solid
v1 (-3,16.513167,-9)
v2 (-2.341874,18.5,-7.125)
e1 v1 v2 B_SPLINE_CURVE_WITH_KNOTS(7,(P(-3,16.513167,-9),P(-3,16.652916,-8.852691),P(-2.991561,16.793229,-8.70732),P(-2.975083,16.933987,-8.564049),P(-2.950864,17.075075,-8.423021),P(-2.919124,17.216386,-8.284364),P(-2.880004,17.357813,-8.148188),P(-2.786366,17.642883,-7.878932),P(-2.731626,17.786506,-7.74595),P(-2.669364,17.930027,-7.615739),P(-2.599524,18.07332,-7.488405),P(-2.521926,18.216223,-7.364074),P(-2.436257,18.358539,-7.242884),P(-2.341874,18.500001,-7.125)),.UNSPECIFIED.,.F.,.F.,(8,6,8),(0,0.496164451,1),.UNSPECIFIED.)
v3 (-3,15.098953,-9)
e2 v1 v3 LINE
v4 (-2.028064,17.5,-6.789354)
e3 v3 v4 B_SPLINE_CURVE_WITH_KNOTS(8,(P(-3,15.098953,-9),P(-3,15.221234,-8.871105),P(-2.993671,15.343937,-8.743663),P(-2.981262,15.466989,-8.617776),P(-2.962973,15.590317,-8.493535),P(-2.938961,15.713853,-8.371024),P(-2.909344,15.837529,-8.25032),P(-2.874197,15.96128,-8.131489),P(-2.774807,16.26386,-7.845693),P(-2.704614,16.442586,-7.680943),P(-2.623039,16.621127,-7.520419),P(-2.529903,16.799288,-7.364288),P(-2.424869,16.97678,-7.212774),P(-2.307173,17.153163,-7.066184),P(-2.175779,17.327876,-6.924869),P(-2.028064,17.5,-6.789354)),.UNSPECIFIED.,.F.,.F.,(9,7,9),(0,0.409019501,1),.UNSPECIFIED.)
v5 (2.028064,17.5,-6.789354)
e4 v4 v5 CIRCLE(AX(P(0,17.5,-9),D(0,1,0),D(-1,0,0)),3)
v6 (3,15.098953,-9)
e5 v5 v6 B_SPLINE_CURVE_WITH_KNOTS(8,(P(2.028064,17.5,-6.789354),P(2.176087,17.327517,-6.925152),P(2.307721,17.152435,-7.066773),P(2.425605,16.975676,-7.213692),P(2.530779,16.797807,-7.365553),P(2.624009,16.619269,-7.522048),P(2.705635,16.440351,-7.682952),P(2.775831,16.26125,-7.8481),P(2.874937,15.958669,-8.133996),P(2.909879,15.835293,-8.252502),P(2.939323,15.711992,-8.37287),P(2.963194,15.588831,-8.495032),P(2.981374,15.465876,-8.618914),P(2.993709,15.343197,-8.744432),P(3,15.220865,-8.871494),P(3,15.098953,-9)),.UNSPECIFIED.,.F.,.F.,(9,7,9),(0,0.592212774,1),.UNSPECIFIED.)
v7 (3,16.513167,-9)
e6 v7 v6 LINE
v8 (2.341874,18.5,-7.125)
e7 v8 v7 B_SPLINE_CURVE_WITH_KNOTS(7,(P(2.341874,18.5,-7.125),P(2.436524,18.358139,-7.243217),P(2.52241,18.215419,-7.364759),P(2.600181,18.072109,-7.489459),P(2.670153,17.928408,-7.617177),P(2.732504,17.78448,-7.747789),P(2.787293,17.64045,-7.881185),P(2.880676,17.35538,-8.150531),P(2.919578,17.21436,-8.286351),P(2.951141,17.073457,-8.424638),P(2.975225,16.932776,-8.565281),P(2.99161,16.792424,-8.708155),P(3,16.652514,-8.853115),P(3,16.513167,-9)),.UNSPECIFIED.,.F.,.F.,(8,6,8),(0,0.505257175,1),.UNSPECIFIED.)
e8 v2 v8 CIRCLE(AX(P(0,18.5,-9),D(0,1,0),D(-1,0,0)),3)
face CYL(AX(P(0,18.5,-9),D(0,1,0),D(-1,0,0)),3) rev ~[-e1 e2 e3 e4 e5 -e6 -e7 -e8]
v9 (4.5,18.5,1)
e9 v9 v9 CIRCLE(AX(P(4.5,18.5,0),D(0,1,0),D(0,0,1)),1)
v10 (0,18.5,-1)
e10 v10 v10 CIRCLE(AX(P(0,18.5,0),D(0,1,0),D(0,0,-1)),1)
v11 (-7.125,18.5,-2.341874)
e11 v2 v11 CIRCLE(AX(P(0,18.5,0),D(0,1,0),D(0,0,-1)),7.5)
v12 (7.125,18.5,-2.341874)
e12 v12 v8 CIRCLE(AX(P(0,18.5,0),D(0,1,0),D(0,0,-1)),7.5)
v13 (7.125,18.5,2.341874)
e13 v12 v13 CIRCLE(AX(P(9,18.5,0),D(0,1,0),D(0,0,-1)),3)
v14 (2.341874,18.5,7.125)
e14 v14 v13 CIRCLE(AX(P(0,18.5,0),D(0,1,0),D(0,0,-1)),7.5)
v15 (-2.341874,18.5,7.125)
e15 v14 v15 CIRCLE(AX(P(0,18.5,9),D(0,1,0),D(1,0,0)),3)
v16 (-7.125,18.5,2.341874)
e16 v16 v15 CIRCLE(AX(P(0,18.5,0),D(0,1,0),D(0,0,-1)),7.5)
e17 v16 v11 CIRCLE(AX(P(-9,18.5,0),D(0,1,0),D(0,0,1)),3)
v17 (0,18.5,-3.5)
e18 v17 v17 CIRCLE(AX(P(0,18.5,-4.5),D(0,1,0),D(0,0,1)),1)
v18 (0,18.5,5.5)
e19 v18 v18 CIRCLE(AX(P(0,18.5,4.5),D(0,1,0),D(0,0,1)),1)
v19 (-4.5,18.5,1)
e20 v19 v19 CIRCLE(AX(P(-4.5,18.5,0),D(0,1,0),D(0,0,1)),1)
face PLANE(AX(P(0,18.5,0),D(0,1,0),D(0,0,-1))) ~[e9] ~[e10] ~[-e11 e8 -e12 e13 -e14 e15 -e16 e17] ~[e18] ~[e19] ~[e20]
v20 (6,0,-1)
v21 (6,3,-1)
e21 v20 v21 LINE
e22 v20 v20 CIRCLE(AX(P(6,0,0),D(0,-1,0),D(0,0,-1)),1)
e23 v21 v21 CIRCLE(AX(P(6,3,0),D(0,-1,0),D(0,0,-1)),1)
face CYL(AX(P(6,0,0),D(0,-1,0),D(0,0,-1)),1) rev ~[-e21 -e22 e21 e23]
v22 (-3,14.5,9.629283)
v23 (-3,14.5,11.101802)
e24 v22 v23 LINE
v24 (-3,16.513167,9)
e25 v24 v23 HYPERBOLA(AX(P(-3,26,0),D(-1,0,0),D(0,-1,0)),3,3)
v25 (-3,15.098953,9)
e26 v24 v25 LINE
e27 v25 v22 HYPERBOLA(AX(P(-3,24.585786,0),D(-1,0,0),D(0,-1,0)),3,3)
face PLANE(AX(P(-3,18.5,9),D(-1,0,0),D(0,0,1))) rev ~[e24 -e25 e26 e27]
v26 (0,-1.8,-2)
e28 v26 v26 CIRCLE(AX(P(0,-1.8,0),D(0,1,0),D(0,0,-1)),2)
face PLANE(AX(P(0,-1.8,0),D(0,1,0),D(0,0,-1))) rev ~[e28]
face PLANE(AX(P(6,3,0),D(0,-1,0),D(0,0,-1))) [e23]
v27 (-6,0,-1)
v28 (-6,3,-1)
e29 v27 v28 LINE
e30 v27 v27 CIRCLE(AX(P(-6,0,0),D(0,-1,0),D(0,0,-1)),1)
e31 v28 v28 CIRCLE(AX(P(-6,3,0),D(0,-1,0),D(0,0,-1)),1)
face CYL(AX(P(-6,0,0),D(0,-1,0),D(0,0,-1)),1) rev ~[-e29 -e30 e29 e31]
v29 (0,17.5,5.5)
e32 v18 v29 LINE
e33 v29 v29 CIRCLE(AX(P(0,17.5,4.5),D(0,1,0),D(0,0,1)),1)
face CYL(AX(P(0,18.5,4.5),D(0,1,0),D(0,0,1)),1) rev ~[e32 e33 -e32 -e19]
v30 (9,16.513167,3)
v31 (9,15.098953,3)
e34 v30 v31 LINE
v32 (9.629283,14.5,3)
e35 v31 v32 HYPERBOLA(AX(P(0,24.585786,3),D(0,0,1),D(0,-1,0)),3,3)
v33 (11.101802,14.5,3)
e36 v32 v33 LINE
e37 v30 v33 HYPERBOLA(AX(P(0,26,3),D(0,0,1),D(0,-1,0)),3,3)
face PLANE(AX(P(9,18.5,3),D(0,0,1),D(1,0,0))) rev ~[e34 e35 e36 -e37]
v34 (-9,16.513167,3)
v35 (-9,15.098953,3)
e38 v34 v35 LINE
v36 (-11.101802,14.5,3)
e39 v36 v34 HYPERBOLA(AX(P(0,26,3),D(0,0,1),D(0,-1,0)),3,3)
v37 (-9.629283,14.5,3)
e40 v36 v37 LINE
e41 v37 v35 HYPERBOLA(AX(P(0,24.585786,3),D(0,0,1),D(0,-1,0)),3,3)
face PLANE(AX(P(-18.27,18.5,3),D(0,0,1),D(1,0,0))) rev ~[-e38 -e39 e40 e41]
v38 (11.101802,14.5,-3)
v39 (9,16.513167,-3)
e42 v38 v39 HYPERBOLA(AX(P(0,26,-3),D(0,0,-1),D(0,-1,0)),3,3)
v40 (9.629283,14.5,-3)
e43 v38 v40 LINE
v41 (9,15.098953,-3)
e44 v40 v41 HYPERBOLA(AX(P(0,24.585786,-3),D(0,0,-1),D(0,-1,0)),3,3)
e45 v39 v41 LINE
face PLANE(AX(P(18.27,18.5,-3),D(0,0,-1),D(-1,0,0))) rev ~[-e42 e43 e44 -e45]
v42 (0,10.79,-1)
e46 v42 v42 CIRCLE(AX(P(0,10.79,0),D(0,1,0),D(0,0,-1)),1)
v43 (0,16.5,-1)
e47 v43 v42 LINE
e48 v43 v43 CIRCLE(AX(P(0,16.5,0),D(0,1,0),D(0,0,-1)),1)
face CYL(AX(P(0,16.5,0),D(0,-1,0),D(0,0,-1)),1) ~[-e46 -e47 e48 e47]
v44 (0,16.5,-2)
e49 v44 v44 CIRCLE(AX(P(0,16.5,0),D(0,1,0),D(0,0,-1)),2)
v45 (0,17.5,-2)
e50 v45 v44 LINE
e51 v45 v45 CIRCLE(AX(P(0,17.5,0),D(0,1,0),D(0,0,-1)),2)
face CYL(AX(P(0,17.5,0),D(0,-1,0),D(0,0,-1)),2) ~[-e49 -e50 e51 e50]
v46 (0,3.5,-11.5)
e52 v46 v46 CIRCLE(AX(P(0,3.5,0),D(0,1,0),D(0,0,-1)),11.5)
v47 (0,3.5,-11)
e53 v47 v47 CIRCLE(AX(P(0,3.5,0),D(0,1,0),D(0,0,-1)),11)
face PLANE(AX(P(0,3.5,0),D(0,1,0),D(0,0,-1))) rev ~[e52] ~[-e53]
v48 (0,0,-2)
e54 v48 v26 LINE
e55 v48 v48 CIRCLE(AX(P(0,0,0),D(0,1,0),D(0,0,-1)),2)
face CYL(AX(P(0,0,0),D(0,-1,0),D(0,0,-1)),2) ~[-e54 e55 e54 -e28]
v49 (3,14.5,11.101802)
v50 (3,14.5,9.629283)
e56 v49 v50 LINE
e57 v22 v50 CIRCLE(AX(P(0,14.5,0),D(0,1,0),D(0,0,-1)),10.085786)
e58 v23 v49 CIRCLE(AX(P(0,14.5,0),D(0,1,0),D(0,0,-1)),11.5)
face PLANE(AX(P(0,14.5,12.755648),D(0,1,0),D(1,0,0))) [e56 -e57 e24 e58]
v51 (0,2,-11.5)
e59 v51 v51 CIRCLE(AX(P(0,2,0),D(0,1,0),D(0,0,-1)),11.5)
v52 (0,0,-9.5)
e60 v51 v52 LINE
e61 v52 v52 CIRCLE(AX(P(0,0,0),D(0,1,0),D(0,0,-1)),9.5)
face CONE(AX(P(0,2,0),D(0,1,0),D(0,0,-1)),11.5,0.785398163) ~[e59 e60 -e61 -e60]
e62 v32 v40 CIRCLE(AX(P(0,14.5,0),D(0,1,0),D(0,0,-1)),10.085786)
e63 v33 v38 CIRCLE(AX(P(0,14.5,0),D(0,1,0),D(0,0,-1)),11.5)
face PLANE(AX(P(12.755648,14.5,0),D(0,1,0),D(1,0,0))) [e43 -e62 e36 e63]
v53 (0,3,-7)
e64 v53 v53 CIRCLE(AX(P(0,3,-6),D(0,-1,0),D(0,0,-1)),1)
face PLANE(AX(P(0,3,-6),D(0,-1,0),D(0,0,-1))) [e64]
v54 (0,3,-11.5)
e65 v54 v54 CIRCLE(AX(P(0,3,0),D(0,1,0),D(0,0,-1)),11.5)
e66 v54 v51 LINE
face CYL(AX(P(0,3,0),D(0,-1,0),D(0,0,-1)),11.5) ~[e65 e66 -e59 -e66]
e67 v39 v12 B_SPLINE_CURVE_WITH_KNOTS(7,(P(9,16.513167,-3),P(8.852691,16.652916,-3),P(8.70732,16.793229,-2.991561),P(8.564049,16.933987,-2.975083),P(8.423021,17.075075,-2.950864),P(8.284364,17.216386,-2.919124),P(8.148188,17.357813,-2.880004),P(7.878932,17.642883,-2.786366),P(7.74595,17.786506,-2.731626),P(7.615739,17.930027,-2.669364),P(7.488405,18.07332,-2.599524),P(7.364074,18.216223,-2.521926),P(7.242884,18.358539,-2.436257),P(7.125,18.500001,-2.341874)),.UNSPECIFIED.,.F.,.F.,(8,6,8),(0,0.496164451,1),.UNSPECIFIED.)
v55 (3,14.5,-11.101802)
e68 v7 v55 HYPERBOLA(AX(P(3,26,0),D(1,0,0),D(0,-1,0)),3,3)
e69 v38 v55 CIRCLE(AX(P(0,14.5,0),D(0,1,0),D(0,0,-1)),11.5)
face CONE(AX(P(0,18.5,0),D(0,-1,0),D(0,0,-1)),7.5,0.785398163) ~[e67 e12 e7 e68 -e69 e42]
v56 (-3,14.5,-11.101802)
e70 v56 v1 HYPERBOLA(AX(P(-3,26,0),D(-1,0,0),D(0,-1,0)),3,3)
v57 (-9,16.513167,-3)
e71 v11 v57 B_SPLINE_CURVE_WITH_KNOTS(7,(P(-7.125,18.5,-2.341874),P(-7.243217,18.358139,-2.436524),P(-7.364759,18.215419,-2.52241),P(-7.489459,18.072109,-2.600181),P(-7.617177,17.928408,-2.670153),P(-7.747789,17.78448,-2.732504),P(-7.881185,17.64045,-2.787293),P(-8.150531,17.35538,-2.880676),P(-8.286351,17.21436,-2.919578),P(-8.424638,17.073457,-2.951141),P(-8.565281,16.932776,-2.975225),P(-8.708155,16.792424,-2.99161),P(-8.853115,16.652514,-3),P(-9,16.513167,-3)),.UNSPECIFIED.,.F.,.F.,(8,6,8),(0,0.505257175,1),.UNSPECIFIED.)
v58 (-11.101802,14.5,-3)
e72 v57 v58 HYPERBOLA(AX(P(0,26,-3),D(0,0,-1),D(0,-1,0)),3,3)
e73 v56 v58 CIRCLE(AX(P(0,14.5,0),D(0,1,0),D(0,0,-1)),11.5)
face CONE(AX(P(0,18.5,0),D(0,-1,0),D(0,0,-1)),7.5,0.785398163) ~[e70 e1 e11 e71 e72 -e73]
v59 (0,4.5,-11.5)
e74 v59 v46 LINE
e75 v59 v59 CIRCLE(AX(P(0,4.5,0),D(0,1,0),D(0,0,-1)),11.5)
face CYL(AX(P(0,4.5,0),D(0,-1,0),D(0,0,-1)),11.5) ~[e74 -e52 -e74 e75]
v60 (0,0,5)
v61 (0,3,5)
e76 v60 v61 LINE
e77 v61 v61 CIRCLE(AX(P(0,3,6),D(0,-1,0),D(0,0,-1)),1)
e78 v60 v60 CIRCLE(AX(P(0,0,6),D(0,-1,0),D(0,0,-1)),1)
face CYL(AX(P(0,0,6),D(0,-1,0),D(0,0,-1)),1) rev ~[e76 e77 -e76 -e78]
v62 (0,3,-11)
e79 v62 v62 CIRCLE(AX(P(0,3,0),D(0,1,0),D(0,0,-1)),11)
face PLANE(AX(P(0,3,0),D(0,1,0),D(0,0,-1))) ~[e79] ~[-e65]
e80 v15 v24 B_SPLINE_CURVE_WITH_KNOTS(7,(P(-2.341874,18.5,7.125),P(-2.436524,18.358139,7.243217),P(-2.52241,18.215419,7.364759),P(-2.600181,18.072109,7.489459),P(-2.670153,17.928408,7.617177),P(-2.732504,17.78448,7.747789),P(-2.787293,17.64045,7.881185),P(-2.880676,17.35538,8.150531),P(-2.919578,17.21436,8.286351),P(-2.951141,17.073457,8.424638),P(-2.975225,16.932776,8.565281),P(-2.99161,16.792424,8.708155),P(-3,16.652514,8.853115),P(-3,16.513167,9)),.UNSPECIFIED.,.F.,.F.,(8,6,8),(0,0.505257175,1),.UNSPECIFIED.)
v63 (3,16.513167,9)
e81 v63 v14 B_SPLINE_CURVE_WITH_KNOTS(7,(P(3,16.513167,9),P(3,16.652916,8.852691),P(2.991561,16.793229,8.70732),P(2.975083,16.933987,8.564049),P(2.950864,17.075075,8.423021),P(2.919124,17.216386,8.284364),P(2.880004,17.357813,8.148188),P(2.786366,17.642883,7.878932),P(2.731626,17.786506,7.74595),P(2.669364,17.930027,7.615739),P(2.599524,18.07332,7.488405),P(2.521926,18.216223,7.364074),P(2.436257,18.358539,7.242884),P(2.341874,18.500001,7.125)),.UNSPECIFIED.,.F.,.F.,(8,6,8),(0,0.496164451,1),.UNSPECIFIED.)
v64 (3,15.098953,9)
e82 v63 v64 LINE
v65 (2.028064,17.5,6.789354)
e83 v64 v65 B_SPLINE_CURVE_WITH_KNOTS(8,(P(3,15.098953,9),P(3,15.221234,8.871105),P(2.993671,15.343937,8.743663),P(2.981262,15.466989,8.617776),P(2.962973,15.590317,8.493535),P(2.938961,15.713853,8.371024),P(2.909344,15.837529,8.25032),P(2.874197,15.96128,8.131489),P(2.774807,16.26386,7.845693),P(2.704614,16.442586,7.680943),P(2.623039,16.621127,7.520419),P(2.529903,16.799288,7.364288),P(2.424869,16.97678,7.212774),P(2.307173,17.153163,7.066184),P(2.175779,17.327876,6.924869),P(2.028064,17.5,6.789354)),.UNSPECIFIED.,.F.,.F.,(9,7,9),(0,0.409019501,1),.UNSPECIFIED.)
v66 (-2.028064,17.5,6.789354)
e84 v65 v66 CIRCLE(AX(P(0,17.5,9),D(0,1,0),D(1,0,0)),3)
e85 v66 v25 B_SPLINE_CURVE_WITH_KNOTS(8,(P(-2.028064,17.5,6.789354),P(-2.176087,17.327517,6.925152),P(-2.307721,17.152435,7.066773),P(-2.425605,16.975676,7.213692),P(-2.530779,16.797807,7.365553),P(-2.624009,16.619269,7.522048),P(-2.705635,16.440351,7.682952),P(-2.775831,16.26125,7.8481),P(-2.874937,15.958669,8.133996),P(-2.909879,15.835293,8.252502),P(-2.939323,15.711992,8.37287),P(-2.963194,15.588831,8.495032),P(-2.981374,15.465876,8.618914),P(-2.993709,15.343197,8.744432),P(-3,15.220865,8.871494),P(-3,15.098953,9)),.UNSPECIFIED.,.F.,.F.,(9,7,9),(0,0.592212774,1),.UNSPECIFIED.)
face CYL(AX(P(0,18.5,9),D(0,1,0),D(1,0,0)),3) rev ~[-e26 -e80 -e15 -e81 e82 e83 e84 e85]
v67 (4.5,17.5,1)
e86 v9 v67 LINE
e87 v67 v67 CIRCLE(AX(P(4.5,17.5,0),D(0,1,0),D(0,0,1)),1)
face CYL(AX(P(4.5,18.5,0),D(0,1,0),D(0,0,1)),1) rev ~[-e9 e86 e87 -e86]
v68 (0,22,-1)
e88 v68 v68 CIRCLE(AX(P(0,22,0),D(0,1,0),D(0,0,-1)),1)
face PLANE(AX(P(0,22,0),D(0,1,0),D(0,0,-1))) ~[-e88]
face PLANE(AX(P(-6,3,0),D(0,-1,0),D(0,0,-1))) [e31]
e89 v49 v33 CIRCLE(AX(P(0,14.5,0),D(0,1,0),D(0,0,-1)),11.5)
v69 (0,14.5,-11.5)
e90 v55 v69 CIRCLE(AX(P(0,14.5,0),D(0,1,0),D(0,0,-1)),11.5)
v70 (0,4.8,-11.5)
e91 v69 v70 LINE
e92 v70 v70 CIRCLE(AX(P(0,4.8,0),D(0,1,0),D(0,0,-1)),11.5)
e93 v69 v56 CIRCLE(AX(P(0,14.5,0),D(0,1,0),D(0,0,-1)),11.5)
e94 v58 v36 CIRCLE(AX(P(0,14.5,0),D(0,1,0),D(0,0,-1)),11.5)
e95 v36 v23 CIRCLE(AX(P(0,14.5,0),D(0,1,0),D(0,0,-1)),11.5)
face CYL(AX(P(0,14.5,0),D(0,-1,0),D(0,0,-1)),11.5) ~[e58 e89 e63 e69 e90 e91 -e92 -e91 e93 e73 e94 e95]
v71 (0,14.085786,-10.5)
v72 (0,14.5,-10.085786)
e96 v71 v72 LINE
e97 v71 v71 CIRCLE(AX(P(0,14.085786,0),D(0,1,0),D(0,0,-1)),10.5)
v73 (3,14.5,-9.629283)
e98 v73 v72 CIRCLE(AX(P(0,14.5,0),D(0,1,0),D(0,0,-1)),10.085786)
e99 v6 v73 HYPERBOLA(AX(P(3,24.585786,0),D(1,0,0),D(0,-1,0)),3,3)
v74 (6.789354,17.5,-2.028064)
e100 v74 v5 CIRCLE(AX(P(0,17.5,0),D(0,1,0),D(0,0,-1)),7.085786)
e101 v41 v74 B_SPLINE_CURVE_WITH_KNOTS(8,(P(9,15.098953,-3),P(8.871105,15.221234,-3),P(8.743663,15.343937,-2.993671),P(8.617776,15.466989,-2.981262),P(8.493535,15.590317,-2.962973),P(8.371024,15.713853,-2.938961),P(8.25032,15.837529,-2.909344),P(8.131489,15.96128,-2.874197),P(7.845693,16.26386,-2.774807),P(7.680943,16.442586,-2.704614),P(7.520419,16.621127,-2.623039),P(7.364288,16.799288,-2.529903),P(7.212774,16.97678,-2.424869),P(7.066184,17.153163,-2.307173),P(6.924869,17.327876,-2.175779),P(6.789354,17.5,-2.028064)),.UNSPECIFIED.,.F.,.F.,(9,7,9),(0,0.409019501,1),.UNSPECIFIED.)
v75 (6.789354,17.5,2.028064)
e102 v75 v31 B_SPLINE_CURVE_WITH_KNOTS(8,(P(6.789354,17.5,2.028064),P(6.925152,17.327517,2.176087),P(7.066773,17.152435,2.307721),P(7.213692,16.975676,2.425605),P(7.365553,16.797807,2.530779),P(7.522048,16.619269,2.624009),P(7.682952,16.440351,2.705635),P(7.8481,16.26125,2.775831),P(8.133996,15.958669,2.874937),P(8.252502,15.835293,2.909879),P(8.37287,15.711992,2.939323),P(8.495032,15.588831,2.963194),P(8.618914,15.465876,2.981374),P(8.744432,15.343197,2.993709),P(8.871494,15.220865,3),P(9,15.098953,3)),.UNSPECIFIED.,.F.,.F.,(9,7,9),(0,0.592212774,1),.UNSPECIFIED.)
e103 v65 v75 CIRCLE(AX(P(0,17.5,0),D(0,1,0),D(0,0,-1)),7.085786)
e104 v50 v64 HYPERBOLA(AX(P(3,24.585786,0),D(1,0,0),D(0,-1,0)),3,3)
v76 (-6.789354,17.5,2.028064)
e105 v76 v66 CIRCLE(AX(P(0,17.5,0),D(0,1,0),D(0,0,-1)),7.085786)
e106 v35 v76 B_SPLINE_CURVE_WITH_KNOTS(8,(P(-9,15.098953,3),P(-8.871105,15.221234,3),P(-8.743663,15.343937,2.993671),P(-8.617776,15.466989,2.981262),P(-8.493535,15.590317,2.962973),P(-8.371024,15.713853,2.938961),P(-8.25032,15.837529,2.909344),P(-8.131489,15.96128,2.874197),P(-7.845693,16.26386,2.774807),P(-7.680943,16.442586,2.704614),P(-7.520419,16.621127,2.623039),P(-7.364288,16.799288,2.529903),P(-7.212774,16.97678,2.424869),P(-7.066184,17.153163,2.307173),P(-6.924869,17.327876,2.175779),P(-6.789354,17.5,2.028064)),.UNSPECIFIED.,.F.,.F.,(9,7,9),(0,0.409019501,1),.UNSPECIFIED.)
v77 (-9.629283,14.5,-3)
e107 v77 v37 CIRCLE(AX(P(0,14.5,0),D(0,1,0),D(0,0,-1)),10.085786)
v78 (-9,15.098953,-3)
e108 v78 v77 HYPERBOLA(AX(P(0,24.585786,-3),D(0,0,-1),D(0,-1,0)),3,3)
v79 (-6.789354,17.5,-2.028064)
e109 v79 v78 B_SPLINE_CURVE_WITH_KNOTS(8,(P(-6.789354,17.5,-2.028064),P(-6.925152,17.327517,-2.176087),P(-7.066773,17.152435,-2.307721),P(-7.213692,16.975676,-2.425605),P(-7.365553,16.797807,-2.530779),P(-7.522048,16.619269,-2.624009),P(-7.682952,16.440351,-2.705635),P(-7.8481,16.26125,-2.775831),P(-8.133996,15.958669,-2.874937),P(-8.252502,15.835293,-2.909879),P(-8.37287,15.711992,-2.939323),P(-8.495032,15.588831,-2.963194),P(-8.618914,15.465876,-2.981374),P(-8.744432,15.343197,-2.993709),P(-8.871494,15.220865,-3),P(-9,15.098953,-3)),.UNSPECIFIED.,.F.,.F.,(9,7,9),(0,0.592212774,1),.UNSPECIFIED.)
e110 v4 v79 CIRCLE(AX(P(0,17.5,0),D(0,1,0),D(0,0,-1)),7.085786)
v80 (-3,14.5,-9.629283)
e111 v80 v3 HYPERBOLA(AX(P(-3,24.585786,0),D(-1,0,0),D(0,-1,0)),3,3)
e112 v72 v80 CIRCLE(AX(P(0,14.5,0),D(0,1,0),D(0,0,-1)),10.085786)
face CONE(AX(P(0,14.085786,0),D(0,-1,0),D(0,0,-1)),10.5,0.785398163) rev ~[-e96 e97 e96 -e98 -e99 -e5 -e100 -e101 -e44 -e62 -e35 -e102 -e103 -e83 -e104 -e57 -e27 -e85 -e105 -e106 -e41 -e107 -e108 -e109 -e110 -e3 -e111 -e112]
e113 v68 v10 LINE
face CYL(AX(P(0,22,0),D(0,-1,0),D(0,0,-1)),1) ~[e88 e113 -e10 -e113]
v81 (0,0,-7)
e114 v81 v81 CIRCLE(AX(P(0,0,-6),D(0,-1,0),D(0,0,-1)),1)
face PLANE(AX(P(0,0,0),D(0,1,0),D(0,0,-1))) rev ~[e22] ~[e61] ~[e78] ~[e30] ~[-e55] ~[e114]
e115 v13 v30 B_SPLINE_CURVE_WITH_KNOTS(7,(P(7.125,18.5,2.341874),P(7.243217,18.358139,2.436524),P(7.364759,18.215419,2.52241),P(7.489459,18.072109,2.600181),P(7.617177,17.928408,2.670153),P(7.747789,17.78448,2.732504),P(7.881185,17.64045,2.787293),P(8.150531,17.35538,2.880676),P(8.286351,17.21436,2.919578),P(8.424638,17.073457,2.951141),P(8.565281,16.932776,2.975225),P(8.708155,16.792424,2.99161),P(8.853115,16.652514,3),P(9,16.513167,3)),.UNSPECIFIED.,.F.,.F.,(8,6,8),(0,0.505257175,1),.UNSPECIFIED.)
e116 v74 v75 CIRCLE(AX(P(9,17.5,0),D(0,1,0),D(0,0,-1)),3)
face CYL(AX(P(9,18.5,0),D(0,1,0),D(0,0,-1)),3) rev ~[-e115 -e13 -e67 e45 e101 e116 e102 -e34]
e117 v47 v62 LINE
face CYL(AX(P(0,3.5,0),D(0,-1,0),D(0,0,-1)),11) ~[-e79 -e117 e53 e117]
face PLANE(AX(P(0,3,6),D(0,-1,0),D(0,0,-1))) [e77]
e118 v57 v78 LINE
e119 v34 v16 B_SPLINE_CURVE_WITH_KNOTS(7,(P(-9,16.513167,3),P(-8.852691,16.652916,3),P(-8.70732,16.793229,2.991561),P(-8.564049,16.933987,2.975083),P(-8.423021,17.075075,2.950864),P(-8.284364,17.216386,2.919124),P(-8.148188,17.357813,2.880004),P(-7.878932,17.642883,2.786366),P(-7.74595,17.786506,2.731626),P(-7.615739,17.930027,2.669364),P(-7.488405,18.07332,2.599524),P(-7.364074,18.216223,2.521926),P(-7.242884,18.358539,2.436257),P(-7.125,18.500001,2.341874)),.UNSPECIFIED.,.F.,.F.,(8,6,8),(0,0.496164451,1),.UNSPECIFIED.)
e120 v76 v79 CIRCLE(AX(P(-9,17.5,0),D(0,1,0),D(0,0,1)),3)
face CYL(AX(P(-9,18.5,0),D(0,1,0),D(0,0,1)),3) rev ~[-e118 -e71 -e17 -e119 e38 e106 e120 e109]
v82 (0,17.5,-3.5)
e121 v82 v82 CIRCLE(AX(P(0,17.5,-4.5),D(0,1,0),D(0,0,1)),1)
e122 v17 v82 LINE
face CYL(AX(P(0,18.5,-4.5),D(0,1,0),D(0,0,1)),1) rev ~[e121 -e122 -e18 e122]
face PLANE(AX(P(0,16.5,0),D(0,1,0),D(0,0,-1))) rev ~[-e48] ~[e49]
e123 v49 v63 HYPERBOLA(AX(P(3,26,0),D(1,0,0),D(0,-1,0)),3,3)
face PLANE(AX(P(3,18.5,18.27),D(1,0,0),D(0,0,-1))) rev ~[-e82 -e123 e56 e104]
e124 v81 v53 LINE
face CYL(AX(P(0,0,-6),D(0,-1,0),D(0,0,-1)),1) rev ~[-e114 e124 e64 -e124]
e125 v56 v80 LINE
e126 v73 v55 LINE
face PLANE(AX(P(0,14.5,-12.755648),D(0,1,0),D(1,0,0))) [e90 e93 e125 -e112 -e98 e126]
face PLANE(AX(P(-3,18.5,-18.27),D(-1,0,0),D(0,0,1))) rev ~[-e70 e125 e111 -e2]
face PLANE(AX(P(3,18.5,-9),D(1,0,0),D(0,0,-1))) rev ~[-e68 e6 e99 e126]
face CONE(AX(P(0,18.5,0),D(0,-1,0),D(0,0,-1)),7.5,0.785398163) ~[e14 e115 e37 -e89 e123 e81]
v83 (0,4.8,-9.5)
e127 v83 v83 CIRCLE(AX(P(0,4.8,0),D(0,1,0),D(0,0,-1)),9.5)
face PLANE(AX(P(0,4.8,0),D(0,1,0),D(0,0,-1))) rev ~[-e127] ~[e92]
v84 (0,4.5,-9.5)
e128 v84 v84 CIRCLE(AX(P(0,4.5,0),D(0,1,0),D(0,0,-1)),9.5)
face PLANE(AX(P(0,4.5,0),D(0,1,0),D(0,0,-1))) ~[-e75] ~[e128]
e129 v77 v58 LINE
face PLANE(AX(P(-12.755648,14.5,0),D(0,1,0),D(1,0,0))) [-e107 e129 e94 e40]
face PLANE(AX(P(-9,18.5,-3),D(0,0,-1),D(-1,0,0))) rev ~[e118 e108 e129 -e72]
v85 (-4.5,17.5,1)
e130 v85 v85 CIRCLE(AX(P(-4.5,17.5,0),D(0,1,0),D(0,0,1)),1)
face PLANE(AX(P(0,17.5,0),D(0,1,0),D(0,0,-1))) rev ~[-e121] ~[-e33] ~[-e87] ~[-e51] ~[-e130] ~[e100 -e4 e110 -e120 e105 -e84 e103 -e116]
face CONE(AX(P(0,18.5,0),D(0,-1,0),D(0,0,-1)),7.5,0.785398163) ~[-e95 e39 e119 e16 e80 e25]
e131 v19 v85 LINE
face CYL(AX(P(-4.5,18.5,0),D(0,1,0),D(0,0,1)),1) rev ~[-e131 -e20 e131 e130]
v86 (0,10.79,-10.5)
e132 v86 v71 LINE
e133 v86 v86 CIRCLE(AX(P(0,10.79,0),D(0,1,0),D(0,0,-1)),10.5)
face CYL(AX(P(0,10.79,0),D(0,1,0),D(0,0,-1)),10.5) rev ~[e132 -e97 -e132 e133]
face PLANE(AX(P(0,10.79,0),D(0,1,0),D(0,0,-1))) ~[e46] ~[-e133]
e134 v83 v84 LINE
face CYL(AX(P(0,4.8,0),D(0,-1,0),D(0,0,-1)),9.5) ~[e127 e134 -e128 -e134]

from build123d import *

# Parameters (mm, degrees)
SKETCH3_R          = 1
CUT_EXTRUDE1_DEPTH = 4
SKETCH5_R          = 1
CUT_EXTRUDE2_DEPTH = 3


with BuildPart() as part:
    # Sketch2 → Revolve2 (revolve)
    with BuildSketch(Plane.XY, mode=Mode.PRIVATE) as revolve2_sk:
        Polygon((0, 0), (0, 22), (1, 22), (1, 18.5), (7.5, 18.5), (11.5, 14.5), (11.5, 4.8), (9.5, 4.8), (9.5, 4.5), (11.5, 4.5), (11.5, 3.5), (11, 3.5), (11, 3), (11.5, 3), (11.5, 2), (9.5, 0), (2, 0), (2, -1.8), (0, -1.8), align=None)
        Polygon((1, 16.5), (1, 10.79), (10.5, 10.79), (10.5, 14.085786438), (7.085786438, 17.5), (2, 17.5), (2, 16.5), align=None, mode=Mode.SUBTRACT)
    revolve(revolve2_sk.sketch.rotate(Axis((0, 0, 0), (0, 1, 0)), 90), axis=Axis((0, 0, 0), (0, 1, 0)))

    # Sketch3 → Cut-Extrude1 (cut)
    with BuildSketch(Plane(origin=(0, 18.5, 0), x_dir=(1, 0, 0), z_dir=(0, 1, 0))):
        with Locations(Location((0, 4.5, 0), (0, 0, 270))):
            Circle(SKETCH3_R)
        with Locations(Location((4.5, 0, 0), (0, 0, 270))):
            Circle(SKETCH3_R)
        with Locations(Location((0, -4.5, 0), (0, 0, 270))):
            Circle(SKETCH3_R)
        with Locations(Location((-4.5, 0, 0), (0, 0, 270))):
            Circle(SKETCH3_R)
        with BuildLine():
            Line((3, 9), (3, 18.27))
            Line((3, 18.27), (-3, 18.27))
            Line((-3, 18.27), (-3, 9))
            ThreePointArc((-3, 9), (0, 6), (3, 9))
        make_face()
        with BuildLine():
            Line((9, -3), (18.27, -3))
            Line((18.27, -3), (18.27, 3))
            Line((18.27, 3), (9, 3))
            ThreePointArc((9, 3), (6, 0), (9, -3))
        make_face()
        with BuildLine():
            Line((-3, -9), (-3, -18.27))
            Line((-3, -18.27), (3, -18.27))
            Line((3, -18.27), (3, -9))
            ThreePointArc((3, -9), (0, -6), (-3, -9))
        make_face()
        with BuildLine():
            Line((-9, 3), (-18.27, 3))
            Line((-18.27, 3), (-18.27, -3))
            Line((-18.27, -3), (-9, -3))
            ThreePointArc((-9, -3), (-6, 0), (-9, 3))
        make_face()
    extrude(amount=-CUT_EXTRUDE1_DEPTH, mode=Mode.SUBTRACT)

    # Sketch5 → Cut-Extrude2 (cut)
    with BuildSketch(Plane.XZ):
        with Locations(Location((0, 6, 0), (0, 0, 270))):
            Circle(SKETCH5_R)
        with Locations(Location((6, 0, 0), (0, 0, 270))):
            Circle(SKETCH5_R)
        with Locations(Location((0, -6, 0), (0, 0, 270))):
            Circle(SKETCH5_R)
        with Locations(Location((-6, 0, 0), (0, 0, 270))):
            Circle(SKETCH5_R)
    extrude(amount=-CUT_EXTRUDE2_DEPTH, mode=Mode.SUBTRACT)


solid = part.part
